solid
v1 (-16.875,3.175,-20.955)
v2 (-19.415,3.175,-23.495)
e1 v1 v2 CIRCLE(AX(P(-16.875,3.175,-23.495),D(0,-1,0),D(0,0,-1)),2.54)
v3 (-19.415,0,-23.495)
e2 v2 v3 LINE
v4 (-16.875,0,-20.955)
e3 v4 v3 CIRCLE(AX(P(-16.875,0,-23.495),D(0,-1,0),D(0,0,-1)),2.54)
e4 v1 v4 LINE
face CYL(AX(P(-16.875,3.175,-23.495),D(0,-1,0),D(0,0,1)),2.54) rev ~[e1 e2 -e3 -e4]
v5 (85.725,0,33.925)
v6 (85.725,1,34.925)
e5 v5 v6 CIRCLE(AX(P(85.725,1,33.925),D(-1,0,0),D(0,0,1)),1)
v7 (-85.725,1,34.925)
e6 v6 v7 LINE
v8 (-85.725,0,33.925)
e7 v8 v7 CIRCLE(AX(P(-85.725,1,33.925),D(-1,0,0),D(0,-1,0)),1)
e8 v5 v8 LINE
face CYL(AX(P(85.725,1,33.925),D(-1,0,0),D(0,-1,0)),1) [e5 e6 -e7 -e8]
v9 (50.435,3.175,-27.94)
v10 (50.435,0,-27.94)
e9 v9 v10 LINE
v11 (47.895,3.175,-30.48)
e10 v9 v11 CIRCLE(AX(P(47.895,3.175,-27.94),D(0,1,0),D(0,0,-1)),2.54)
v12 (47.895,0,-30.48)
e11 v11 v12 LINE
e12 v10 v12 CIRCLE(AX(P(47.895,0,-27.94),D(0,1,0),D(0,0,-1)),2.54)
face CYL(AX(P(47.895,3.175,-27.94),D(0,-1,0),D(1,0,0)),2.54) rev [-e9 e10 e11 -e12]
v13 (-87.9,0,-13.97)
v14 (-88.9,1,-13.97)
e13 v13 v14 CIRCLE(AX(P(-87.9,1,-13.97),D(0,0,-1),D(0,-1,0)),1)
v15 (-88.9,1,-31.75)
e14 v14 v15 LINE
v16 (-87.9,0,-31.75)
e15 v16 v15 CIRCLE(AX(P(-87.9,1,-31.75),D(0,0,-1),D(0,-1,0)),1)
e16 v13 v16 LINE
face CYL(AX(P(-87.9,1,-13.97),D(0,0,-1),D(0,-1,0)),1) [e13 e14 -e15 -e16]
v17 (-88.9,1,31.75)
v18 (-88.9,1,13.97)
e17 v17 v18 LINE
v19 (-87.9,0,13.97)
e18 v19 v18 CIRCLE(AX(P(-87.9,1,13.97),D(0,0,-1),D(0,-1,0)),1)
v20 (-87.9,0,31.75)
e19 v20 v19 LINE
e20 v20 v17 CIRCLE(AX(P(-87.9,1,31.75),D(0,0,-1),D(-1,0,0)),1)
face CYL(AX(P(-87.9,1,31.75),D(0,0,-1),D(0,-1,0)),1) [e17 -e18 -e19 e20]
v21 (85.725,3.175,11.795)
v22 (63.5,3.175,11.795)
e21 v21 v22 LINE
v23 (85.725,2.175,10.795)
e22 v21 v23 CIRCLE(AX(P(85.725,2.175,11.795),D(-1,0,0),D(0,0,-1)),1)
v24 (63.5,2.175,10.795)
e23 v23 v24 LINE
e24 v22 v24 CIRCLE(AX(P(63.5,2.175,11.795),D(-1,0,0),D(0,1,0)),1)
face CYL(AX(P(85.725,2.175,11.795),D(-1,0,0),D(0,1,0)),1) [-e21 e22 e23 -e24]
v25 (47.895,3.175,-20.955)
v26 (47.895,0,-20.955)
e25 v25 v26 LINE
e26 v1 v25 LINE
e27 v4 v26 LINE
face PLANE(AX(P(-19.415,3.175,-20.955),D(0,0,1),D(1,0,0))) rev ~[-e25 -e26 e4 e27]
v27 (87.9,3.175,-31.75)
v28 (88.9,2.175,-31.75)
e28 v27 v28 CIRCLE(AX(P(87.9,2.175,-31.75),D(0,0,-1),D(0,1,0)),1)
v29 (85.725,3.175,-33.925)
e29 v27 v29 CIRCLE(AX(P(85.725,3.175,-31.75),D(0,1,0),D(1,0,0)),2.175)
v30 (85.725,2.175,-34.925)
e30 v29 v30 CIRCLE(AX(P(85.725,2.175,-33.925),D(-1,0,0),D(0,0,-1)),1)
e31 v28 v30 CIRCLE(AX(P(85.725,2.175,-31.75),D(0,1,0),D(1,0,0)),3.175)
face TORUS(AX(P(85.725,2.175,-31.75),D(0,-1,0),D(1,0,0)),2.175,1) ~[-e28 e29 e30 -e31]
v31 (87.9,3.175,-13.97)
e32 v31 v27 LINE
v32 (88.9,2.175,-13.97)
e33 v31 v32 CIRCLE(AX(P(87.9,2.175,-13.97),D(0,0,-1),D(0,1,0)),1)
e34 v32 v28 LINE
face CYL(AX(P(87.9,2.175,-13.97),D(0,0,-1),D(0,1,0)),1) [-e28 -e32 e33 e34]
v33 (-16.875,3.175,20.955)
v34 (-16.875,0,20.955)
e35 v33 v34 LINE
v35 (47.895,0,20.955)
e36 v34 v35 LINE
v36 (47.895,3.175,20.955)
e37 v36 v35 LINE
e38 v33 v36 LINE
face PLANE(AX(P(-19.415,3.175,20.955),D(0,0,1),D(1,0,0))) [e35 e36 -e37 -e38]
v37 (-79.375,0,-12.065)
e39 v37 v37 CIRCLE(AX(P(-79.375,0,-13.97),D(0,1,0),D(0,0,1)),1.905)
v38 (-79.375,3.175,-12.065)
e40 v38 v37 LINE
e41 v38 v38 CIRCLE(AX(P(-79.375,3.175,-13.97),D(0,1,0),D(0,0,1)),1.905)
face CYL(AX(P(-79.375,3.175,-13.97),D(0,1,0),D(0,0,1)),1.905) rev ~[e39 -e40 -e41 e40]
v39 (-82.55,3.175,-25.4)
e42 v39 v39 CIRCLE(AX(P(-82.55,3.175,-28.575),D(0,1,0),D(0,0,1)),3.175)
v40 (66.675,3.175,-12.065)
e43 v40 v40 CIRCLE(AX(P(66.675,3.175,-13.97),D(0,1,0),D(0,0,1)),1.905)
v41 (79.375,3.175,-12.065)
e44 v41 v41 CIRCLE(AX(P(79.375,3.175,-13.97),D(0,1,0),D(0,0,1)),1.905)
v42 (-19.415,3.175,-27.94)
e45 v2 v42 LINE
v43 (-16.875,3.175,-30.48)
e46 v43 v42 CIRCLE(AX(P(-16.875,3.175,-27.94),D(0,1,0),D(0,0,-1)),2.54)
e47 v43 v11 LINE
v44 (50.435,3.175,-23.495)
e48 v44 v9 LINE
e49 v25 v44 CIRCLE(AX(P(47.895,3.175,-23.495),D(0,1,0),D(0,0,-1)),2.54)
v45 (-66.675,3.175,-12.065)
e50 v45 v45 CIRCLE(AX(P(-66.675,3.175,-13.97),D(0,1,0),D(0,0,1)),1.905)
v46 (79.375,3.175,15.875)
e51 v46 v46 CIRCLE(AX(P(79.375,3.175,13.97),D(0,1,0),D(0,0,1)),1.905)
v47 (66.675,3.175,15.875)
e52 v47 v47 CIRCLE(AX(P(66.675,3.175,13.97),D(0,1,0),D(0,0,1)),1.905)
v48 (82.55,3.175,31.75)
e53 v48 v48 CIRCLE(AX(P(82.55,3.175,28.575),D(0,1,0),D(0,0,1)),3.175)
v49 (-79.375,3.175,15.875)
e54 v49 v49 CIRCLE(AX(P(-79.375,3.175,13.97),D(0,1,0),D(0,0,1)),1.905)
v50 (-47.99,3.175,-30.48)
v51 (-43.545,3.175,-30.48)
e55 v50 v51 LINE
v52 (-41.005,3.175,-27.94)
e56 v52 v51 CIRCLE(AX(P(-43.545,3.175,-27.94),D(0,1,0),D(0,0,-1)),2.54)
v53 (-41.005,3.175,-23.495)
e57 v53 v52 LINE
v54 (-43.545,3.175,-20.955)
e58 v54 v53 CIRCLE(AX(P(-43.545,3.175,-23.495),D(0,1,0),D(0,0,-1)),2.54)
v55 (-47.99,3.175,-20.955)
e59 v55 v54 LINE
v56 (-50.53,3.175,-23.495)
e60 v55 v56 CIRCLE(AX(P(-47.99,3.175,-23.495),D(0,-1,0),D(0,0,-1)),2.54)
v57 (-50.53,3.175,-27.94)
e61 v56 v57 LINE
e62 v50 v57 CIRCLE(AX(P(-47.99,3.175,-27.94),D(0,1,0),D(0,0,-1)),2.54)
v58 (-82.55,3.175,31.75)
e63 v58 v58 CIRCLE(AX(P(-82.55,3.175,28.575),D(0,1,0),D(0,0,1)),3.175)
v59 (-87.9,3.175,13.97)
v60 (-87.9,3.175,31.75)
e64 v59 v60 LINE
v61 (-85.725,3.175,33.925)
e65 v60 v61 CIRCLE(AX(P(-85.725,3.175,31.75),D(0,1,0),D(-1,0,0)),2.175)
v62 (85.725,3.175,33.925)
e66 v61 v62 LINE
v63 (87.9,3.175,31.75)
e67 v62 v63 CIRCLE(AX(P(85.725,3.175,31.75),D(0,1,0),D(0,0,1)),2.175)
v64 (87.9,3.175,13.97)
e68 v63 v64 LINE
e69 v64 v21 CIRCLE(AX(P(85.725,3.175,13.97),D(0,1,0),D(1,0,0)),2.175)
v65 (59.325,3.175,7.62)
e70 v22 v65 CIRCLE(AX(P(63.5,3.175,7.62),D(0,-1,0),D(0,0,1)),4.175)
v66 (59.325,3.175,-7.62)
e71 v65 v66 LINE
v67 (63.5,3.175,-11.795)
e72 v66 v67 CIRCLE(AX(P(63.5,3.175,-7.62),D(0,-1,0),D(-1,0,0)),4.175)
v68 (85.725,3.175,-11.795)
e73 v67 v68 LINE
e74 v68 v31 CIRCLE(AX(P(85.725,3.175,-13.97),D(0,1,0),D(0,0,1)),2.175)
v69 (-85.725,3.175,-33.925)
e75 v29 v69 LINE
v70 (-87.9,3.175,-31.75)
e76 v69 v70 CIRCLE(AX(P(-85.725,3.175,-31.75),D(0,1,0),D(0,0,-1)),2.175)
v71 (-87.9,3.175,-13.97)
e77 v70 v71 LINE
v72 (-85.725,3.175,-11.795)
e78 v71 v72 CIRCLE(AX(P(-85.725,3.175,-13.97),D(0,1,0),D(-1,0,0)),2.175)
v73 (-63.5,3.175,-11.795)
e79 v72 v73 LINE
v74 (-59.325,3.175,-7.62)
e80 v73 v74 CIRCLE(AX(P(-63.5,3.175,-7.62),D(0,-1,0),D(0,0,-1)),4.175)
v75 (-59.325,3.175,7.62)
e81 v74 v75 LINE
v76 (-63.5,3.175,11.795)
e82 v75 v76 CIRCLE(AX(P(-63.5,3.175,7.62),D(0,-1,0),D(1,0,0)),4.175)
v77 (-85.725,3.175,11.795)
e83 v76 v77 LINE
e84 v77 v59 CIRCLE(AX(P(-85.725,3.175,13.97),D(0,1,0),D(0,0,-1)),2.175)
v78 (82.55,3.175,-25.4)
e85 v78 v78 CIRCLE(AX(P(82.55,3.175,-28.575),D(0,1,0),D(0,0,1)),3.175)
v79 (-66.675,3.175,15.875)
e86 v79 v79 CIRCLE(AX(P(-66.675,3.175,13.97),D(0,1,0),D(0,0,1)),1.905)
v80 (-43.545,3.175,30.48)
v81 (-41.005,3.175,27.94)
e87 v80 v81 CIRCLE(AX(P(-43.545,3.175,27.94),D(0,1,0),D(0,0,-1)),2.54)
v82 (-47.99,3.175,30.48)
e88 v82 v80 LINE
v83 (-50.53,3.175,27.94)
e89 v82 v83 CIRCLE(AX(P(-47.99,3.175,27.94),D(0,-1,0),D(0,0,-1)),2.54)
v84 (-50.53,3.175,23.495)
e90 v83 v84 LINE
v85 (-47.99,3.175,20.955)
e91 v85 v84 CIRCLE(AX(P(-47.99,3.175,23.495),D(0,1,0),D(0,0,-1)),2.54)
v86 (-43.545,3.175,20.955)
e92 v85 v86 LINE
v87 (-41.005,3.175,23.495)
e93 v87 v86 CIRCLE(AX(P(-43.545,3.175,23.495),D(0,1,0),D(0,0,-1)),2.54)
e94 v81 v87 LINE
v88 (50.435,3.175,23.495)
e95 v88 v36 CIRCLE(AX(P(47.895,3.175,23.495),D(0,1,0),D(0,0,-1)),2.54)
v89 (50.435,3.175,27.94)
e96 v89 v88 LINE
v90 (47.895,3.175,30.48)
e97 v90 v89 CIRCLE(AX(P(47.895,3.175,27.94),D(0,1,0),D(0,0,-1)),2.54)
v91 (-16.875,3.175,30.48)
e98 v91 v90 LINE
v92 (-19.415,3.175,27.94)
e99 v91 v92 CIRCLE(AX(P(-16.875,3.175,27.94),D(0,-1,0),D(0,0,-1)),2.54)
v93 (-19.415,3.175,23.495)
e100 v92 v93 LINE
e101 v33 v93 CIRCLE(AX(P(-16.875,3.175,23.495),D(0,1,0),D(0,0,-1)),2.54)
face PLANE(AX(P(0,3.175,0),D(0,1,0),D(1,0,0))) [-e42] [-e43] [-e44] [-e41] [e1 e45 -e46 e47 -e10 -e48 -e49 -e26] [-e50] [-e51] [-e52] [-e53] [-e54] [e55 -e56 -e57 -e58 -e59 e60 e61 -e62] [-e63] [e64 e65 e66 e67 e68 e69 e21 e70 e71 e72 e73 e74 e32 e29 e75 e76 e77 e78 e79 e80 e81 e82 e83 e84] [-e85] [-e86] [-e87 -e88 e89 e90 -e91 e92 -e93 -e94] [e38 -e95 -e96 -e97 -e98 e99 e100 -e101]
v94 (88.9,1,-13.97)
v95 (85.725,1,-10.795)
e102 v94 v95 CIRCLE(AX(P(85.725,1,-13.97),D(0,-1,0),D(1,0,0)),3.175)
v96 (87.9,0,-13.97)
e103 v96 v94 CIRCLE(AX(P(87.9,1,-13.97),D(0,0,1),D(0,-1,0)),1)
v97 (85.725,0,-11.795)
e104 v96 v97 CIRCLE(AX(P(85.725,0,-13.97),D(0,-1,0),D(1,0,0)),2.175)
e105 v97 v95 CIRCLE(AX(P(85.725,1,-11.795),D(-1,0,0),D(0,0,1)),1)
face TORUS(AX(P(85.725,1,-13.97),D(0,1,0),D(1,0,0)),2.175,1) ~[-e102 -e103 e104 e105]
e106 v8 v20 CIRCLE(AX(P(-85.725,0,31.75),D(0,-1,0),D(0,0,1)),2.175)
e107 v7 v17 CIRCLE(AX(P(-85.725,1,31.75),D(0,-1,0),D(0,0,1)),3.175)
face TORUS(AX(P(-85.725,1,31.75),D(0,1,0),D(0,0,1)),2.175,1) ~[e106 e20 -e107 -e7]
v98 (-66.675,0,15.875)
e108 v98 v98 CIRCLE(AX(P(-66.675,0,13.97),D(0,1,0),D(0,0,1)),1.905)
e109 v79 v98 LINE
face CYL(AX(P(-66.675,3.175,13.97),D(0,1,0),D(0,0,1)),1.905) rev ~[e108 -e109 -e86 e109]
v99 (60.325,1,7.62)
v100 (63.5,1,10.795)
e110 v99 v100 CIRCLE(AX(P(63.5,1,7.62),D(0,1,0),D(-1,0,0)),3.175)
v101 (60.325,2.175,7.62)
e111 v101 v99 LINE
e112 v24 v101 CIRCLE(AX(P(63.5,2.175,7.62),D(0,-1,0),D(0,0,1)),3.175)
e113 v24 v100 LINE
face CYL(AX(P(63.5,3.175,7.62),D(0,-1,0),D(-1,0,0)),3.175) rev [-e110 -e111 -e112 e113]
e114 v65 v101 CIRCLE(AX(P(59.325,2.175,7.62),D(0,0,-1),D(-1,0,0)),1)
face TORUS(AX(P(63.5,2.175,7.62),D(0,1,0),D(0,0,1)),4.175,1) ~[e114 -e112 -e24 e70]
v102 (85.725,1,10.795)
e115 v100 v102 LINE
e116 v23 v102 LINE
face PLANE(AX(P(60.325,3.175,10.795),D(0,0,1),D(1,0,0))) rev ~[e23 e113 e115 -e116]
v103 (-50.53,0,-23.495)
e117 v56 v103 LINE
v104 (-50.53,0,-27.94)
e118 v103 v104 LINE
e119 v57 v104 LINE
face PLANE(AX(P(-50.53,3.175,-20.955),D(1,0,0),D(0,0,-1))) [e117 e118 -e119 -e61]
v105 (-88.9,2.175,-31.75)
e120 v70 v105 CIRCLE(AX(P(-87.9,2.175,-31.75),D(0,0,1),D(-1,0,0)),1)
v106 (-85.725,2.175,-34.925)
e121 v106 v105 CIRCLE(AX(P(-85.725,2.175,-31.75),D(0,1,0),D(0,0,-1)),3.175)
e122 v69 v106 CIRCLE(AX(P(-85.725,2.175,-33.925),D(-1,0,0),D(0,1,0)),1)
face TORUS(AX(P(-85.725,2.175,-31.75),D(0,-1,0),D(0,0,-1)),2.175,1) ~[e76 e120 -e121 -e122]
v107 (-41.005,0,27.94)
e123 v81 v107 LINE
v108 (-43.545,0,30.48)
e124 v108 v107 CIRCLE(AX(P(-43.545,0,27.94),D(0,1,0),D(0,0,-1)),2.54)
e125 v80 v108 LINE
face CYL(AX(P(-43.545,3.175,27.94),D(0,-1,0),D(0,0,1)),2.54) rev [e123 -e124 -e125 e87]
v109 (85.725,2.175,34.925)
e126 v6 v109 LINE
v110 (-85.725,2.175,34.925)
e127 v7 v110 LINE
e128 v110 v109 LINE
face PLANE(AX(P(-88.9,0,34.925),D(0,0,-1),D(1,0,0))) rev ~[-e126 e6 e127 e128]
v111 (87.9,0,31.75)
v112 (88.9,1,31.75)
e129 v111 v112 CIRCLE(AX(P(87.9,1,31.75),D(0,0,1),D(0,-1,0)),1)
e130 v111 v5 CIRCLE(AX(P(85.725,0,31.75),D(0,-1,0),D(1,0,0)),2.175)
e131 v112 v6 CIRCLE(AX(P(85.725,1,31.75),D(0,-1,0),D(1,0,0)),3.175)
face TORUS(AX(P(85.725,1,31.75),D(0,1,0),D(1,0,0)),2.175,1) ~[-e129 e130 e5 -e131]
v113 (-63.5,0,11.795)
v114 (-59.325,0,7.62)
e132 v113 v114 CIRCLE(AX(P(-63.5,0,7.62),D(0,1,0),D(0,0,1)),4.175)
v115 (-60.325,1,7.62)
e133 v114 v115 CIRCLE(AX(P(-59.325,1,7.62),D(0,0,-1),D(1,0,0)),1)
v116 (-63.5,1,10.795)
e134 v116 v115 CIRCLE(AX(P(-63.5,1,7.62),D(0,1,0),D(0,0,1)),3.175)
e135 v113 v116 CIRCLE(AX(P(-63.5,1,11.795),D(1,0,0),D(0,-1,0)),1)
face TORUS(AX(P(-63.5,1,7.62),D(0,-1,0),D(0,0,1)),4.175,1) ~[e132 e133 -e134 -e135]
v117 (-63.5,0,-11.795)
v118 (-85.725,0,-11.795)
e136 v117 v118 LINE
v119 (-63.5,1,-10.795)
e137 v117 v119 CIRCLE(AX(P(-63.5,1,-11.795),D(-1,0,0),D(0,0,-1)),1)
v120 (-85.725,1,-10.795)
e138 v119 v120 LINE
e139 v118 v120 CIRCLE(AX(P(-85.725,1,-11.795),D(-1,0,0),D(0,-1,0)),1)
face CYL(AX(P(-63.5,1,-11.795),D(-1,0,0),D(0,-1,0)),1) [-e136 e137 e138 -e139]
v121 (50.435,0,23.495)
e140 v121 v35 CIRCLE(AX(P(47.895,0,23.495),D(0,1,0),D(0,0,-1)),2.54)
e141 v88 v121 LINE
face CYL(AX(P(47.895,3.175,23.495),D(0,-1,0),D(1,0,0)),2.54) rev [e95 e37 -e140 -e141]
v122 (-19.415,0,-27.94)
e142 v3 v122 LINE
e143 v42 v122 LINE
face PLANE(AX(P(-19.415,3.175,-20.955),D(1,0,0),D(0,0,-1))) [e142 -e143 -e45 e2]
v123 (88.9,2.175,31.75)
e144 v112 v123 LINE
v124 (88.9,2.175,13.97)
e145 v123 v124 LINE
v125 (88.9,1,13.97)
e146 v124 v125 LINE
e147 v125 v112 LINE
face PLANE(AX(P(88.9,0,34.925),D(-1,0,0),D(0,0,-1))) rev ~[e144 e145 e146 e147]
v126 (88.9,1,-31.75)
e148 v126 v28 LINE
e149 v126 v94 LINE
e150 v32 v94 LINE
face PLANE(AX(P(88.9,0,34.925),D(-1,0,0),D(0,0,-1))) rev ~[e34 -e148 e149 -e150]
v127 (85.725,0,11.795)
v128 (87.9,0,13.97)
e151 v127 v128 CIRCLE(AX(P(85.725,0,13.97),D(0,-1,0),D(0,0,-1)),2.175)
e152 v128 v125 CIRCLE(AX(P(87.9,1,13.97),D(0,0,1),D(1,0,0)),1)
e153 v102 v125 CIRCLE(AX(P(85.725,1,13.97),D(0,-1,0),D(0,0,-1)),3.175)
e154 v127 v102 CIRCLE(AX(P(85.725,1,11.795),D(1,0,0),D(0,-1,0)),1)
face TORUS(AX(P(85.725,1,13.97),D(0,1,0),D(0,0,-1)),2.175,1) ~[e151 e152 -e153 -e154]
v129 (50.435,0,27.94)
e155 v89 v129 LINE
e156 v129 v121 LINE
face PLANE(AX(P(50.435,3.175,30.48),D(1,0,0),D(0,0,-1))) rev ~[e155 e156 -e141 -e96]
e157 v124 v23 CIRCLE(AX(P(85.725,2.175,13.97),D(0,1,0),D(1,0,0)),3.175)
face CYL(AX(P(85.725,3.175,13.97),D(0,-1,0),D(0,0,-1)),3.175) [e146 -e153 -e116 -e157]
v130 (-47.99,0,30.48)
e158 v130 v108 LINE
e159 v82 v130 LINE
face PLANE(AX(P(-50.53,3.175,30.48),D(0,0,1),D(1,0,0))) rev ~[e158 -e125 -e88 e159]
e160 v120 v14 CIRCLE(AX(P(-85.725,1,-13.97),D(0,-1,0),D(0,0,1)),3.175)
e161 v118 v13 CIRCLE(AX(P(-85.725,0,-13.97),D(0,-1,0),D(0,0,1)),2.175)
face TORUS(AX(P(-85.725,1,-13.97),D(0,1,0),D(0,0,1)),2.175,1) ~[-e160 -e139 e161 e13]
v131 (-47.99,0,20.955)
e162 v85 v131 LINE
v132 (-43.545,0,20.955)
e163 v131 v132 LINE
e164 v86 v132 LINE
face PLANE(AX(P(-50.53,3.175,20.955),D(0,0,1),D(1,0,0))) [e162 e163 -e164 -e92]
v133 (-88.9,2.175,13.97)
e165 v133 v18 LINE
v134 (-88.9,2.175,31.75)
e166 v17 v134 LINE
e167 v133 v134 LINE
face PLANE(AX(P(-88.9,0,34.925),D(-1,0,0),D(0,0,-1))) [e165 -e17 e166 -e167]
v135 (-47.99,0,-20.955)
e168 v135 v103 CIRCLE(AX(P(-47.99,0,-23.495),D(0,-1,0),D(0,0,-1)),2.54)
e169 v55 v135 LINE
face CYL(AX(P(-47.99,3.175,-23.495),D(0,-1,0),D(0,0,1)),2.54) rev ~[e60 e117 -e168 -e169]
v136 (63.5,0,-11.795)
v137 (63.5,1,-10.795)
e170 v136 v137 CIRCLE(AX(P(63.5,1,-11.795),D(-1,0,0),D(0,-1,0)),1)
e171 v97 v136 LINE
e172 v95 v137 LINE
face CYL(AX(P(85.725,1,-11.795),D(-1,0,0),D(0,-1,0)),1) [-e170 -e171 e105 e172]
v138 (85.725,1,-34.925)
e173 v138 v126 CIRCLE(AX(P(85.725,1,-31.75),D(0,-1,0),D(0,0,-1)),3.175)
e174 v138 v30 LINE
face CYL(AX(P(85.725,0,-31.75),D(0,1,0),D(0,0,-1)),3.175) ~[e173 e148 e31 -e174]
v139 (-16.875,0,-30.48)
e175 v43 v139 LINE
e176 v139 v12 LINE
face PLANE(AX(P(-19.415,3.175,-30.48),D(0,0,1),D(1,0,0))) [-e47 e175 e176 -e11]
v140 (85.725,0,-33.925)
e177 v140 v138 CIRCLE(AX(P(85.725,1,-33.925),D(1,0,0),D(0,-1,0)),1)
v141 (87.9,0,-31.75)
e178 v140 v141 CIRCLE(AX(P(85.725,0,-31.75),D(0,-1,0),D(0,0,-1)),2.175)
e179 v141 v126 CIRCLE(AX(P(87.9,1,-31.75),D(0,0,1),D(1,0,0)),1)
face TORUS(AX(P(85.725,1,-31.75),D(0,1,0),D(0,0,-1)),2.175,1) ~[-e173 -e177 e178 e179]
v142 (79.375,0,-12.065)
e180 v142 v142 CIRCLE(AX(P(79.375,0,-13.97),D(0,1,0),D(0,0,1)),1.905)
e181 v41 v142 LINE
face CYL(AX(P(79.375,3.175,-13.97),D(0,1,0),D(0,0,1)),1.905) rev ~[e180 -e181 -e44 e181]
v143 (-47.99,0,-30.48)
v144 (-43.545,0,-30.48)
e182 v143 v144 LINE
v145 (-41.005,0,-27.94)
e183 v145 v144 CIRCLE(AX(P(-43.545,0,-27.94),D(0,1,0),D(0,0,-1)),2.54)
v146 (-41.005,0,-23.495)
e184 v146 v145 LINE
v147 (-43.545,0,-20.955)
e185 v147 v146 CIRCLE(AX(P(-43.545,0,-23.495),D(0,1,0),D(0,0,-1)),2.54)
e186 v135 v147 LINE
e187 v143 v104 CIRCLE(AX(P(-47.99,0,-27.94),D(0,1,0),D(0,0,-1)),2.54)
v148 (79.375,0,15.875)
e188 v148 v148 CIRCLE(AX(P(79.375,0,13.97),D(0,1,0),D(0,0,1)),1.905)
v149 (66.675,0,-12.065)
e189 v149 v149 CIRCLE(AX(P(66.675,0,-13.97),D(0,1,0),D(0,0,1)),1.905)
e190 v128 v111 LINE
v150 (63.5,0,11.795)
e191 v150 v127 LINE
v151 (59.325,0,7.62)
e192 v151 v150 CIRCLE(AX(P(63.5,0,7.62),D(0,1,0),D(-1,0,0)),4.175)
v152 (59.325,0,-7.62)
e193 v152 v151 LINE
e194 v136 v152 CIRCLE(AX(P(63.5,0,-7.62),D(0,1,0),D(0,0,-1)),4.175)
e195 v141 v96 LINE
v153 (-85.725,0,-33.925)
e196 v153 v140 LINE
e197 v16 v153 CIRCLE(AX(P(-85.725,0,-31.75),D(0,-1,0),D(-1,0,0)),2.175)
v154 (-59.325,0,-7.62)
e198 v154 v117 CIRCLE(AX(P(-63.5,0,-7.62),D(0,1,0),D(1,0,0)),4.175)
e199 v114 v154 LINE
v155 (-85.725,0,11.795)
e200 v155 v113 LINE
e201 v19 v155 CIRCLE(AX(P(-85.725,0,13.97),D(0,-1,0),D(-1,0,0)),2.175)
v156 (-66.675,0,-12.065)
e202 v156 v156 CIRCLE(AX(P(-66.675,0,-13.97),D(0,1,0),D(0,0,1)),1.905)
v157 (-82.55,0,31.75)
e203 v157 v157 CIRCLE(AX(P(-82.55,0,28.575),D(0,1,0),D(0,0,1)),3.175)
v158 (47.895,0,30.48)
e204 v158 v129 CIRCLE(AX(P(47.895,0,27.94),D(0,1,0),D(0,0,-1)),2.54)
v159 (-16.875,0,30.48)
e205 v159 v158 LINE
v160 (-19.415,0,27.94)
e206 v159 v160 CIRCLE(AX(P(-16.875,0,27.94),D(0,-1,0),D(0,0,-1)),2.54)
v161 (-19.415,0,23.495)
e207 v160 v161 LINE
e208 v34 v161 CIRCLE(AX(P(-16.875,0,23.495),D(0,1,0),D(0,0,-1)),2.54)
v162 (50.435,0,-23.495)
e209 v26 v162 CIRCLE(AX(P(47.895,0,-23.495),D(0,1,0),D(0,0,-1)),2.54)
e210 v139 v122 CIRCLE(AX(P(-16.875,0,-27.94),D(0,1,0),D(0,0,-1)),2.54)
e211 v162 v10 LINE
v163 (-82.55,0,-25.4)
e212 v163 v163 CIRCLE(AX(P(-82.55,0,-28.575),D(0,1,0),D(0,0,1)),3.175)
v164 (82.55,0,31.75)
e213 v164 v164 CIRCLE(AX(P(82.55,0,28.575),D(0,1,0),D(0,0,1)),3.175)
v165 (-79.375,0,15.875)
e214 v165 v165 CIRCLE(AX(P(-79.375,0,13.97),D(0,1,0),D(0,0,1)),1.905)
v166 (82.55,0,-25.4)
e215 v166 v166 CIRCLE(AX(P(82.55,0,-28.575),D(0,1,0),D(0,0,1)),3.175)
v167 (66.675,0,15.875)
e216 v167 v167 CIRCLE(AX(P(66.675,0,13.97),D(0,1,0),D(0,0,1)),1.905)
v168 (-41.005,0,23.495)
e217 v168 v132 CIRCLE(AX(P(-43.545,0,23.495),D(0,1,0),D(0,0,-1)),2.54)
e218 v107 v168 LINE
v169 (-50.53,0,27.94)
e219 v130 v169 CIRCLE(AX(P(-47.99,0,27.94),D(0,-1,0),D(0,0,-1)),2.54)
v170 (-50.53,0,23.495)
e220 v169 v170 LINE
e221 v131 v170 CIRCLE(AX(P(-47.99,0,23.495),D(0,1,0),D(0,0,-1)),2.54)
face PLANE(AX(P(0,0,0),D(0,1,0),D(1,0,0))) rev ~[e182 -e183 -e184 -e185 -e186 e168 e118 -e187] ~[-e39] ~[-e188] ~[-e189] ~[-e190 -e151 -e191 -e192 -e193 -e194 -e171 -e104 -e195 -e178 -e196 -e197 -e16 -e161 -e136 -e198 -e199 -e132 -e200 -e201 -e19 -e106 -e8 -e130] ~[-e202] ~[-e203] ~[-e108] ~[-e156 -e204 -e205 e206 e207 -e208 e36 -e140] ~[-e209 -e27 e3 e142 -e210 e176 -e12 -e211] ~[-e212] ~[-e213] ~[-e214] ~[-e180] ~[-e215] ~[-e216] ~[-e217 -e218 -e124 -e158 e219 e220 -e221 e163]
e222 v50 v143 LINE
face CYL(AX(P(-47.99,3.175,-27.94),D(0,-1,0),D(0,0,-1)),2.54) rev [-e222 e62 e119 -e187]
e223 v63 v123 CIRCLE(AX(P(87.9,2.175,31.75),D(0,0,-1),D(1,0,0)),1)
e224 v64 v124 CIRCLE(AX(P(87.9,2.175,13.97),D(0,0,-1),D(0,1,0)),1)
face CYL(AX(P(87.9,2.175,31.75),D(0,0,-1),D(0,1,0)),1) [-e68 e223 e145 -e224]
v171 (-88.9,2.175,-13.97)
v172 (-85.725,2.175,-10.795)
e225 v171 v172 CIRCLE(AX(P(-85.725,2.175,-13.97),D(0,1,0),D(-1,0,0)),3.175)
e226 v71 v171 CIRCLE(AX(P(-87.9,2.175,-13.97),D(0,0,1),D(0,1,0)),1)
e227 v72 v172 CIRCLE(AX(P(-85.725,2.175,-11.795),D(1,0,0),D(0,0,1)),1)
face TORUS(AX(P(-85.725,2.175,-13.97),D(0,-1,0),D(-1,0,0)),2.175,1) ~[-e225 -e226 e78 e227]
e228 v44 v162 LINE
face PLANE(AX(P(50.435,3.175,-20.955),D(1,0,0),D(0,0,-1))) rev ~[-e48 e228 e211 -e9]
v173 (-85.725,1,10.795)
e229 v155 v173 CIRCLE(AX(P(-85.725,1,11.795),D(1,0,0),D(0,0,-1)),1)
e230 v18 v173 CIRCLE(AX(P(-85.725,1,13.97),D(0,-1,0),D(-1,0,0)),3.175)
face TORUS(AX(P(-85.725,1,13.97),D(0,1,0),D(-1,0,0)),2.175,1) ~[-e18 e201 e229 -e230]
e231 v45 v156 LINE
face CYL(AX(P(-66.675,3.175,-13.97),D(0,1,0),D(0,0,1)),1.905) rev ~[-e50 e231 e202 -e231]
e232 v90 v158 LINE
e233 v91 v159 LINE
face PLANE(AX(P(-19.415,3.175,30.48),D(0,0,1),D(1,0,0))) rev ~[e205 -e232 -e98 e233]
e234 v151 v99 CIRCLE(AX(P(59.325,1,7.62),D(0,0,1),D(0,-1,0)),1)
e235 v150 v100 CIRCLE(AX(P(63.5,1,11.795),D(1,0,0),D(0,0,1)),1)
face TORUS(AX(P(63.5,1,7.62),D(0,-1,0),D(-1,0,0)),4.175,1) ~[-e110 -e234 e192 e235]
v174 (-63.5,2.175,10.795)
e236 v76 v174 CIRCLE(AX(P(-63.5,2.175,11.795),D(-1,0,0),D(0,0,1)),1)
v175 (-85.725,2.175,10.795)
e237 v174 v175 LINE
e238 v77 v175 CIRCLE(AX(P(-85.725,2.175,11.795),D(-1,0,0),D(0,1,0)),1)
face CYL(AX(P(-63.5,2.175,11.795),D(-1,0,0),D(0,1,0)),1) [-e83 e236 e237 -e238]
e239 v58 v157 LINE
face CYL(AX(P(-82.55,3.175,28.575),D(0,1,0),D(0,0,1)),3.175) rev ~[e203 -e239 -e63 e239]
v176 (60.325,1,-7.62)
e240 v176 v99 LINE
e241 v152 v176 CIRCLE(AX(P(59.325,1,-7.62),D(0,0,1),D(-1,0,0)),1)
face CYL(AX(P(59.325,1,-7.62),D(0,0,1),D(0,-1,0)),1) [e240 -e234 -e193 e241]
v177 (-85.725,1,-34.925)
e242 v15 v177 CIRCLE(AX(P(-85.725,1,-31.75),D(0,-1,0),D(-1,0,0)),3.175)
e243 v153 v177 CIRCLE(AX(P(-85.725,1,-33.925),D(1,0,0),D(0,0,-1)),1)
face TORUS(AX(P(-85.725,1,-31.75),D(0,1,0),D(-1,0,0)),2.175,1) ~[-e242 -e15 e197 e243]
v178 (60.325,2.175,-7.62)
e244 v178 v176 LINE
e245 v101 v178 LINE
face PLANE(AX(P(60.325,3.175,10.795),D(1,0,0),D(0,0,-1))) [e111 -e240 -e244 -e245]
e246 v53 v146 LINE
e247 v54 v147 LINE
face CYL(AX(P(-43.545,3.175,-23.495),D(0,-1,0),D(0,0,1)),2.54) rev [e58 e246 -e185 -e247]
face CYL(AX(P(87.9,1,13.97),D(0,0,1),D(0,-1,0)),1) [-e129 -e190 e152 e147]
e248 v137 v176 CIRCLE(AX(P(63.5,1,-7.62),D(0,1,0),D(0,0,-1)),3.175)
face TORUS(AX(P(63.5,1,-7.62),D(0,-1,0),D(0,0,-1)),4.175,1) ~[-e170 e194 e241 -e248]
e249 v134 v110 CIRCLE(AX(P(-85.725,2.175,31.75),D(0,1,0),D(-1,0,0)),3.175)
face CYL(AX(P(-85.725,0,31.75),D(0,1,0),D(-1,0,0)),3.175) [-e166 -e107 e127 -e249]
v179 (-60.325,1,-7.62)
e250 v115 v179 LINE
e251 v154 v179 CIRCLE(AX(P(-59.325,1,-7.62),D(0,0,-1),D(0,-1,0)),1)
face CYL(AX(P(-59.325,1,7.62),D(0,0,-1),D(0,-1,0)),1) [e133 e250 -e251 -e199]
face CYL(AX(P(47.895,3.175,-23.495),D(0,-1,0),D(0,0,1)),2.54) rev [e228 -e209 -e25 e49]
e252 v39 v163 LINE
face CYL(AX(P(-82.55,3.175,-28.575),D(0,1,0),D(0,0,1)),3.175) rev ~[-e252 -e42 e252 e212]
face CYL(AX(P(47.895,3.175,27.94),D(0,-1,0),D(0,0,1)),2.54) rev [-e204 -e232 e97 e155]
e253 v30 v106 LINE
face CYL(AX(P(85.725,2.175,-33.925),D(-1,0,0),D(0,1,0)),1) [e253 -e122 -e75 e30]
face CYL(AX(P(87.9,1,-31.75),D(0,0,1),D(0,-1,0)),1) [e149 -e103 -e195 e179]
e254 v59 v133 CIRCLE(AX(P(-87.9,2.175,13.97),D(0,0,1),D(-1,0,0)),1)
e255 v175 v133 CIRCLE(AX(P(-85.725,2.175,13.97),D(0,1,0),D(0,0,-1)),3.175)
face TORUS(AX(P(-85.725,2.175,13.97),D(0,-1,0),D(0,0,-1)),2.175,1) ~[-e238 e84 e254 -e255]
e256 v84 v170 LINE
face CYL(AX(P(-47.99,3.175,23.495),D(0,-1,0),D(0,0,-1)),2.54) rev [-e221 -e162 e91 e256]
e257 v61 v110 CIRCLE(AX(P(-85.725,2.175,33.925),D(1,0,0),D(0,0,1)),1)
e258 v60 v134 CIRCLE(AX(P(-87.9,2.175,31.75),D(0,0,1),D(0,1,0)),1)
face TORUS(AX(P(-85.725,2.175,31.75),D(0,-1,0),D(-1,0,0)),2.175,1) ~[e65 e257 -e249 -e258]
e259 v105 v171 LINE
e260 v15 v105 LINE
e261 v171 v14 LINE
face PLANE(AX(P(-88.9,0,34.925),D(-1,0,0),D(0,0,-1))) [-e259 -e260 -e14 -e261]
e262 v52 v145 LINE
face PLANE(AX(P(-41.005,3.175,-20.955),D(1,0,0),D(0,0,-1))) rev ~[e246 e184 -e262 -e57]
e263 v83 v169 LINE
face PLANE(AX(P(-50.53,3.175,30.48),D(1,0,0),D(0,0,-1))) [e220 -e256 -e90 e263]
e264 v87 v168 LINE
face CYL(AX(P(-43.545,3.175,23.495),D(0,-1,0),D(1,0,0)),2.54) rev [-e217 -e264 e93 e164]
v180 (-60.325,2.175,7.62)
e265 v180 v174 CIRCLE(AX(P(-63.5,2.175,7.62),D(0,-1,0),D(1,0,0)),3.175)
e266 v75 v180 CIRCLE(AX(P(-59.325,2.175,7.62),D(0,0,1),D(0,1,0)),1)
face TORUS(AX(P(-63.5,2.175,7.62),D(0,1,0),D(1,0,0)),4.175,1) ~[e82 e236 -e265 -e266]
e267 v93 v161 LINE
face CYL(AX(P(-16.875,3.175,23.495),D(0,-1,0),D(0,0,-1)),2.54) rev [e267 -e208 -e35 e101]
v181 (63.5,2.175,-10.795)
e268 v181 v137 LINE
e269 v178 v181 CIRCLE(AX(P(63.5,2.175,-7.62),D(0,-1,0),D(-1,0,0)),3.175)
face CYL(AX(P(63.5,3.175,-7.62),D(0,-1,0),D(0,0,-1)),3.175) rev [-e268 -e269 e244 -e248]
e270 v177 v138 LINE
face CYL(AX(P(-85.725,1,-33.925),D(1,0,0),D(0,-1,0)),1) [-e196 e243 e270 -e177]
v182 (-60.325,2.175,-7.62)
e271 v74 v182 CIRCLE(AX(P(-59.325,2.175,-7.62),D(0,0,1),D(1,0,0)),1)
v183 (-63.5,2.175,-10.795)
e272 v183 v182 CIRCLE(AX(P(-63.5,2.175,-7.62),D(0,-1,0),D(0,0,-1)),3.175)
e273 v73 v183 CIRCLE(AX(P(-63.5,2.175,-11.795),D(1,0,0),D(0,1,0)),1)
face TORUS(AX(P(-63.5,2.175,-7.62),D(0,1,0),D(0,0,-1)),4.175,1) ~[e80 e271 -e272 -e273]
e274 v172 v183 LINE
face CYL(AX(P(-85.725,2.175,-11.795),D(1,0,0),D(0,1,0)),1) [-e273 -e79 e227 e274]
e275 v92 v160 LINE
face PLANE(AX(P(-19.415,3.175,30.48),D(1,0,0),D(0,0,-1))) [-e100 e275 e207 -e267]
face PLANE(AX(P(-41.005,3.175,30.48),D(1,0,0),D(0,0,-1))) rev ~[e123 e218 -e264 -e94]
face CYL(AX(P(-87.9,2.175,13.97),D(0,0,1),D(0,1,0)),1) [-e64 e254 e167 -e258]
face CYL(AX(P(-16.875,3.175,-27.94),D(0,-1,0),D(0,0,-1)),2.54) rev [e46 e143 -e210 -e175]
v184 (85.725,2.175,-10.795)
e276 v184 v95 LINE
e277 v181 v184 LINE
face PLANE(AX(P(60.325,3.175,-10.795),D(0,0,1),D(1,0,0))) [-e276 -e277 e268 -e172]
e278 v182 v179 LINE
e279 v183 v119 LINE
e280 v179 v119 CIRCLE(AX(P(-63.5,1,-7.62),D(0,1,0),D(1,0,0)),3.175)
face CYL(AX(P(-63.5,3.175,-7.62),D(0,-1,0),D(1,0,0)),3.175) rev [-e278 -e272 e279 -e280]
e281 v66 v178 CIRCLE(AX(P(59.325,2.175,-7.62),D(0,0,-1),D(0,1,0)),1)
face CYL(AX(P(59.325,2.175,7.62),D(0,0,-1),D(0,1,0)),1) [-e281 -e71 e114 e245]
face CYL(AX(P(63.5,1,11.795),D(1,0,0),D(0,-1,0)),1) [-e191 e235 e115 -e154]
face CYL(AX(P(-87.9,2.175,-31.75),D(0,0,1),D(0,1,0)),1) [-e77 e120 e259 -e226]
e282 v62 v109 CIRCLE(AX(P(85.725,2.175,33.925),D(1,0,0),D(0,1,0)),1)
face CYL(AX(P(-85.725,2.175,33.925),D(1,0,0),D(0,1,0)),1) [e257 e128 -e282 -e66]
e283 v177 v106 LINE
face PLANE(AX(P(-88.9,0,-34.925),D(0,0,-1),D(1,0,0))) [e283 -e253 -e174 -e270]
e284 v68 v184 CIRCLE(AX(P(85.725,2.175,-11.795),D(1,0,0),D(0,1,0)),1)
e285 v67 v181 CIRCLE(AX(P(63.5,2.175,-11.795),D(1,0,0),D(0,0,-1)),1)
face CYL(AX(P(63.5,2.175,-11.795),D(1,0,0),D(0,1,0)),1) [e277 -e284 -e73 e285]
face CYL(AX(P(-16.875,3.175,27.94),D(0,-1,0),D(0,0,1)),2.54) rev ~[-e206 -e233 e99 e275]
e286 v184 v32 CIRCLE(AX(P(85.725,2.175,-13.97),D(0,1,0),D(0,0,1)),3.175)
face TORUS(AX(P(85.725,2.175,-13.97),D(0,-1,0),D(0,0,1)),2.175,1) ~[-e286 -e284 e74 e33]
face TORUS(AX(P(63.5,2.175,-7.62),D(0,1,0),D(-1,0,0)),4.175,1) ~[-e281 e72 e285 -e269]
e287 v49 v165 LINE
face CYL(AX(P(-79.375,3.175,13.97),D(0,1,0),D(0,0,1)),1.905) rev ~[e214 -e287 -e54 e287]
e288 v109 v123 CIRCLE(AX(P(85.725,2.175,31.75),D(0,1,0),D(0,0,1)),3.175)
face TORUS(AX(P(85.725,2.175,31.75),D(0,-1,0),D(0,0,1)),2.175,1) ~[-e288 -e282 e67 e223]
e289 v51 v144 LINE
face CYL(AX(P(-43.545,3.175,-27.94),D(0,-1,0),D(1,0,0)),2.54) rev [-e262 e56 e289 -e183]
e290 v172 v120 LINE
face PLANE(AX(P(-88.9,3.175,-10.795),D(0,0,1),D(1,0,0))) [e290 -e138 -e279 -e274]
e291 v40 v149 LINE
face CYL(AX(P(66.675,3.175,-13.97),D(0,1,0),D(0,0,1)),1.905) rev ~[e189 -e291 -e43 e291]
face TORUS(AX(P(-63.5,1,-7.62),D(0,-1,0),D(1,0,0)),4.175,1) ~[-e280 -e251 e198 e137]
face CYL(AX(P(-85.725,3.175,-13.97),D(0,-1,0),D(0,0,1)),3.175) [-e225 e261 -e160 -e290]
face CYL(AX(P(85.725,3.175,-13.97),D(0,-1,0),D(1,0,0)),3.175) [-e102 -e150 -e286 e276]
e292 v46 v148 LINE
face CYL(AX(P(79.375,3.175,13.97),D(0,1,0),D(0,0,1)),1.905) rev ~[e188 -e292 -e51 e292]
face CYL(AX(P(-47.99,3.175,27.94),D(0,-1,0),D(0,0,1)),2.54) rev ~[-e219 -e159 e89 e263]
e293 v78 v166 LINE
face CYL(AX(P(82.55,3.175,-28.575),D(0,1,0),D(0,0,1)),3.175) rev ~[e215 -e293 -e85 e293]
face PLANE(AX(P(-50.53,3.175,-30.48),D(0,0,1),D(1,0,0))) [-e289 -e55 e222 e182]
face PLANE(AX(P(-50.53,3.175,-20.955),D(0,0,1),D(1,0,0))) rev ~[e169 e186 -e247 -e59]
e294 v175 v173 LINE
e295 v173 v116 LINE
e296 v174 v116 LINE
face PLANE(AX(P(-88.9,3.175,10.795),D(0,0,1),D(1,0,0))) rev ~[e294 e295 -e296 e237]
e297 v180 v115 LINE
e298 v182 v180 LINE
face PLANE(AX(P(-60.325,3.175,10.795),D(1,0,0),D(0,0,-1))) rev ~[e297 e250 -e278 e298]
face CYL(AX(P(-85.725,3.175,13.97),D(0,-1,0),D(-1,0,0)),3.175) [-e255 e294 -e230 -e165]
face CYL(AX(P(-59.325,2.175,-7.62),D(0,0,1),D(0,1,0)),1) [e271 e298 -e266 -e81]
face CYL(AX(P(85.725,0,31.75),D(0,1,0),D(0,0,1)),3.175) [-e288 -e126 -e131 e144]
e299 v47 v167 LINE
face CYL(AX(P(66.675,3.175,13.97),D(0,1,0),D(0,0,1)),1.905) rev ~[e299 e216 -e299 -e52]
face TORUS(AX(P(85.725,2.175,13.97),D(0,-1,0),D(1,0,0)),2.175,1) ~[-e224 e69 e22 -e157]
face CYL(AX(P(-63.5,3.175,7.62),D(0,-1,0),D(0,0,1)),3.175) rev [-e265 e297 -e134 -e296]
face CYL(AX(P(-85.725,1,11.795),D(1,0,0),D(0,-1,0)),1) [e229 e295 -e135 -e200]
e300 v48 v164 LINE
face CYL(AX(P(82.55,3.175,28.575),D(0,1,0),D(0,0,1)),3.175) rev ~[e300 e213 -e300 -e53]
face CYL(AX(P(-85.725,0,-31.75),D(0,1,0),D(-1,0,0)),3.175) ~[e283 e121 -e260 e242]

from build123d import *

# Parameters (mm, degrees)
SKETCH1_W           = 177.8
SKETCH1_H           = 69.85
BOSS_EXTRUDE1_DEPTH = 3.175
SKETCH2_R           = 3.175
SKETCH2_R_2         = 1.905
SKETCH2_W           = 28.575
SKETCH2_H           = 21.59
CUT_EXTRUDE1_DEPTH  = 96.56697259
FILLET1_R           = 3.175
FILLET2_R           = 1.000000032
SKETCH3_W           = 69.85
SKETCH3_H           = 9.525
SKETCH3_W_2         = 9.525
CUT_EXTRUDE2_DEPTH  = 96.56697259
FILLET3_R           = 2.54


with BuildPart() as part:
    # Sketch1 → Boss-Extrude1 (new body)
    with BuildSketch(Plane(origin=(0, 0, 0), x_dir=(1, 0, 0), z_dir=(0, 1, 0))):
        Rectangle(SKETCH1_W, SKETCH1_H)
    extrude(amount=BOSS_EXTRUDE1_DEPTH)

    # Sketch2 → Cut-Extrude1 (cut, through all)
    with BuildSketch(Plane(origin=(0, 3.175, 0), x_dir=(1, 0, 0), z_dir=(0, 1, 0))):
        with Locations(Location((-82.55, 28.575, 0), (0, 0, 270))):
            Circle(SKETCH2_R)
        with Locations(Location((-82.55, -28.575, 0), (0, 0, 270))):
            Circle(SKETCH2_R)
        with Locations(Location((82.55, 28.575, 0), (0, 0, 270))):
            Circle(SKETCH2_R)
        with Locations(Location((82.55, -28.575, 0), (0, 0, 270))):
            Circle(SKETCH2_R)
        with Locations(Location((-66.675, 13.97, 0), (0, 0, 270))):
            Circle(SKETCH2_R_2)
        with Locations(Location((-79.375, 13.97, 0), (0, 0, 270))):
            Circle(SKETCH2_R_2)
        with Locations(Location((-66.675, -13.97, 0), (0, 0, 270))):
            Circle(SKETCH2_R_2)
        with Locations(Location((-79.375, -13.97, 0), (0, 0, 270))):
            Circle(SKETCH2_R_2)
        with Locations(Location((66.675, 13.97, 0), (0, 0, 270))):
            Circle(SKETCH2_R_2)
        with Locations(Location((79.375, 13.97, 0), (0, 0, 270))):
            Circle(SKETCH2_R_2)
        with Locations(Location((66.675, -13.97, 0), (0, 0, 270))):
            Circle(SKETCH2_R_2)
        with Locations(Location((79.375, -13.97, 0), (0, 0, 270))):
            Circle(SKETCH2_R_2)
        with Locations((-74.6125, 0)):
            Rectangle(SKETCH2_W, SKETCH2_H)
        with Locations((74.6125, 0)):
            Rectangle(SKETCH2_W, SKETCH2_H)
    extrude(amount=-CUT_EXTRUDE1_DEPTH, mode=Mode.SUBTRACT)

    # Fillet1
    fillet1_edges = [part.edges().sort_by_distance(p)[0] for p in [
        (-88.9, 1.5875, 10.795),
        (-88.9, 1.5875, -10.795),
        (-60.325, 1.5875, -10.795),
        (-60.325, 1.5875, 10.795),
        (88.9, 1.5875, -10.795),
        (88.9, 1.5875, 10.795),
        (60.325, 1.5875, 10.795),
        (60.325, 1.5875, -10.795),
        (88.9, 1.5875, 34.925),
        (-88.9, 1.5875, 34.925),
        (-88.9, 1.5875, -34.925),
        (88.9, 1.5875, -34.925),
    ]]
    fillet(fillet1_edges, radius=FILLET1_R)

    # Fillet2
    fillet2_edges = [part.edges().sort_by_distance(p)[0] for p in [
        (-88.9, 0, -22.86),
        (88.9, 0, -22.86),
        (74.6125, 0, -10.795),
        (60.325, 0, 0),
        (-87.97006403, 0, -11.72493597),
        (-87.97006403, 0, 11.72493597),
        (87.97006403, 0, -11.72493597),
        (87.97006403, 0, 11.72493597),
        (-87.97006403, 0, 33.99506403),
        (-87.97006403, 0, -33.99506403),
        (87.97006403, 0, 33.99506403),
        (87.97006403, 0, -33.99506403),
        (88.9, 3.175, -22.86),
        (88.9, 3.175, 22.86),
        (74.6125, 3.175, 10.795),
        (60.325, 3.175, 0),
        (74.6125, 3.175, -10.795),
        (-88.9, 3.175, -22.86),
        (-74.6125, 3.175, -10.795),
        (-60.325, 3.175, 0),
        (-74.6125, 3.175, 10.795),
        (-88.9, 3.175, 22.86),
        (0, 3.175, 34.925),
        (-87.97006403, 3.175, -11.72493597),
        (-87.97006403, 3.175, 11.72493597),
        (87.97006403, 3.175, -11.72493597),
        (87.97006403, 3.175, 11.72493597),
        (-87.97006403, 3.175, 33.99506403),
        (-87.97006403, 3.175, -33.99506403),
        (87.97006403, 3.175, 33.99506403),
        (87.97006403, 3.175, -33.99506403),
        (61.25493597, 3.175, 9.86506403),
        (61.25493597, 0, 9.86506403),
        (61.25493597, 3.175, -9.86506403),
        (61.25493597, 0, -9.86506403),
        (-61.25493597, 3.175, 9.86506403),
        (-61.25493597, 0, 9.86506403),
        (-61.25493597, 3.175, -9.86506403),
        (-61.25493597, 0, -9.86506403),
        (0, 0, -34.925),
        (0, 3.175, -34.925),
        (74.6125, 0, 10.795),
        (88.9, 0, 22.86),
        (0, 0, 34.925),
        (-88.9, 0, 22.86),
        (-74.6125, 0, 10.795),
        (-60.325, 0, 0),
        (-74.6125, 0, -10.795),
    ]]
    fillet(fillet2_edges, radius=FILLET2_R)

    # Sketch3 → Cut-Extrude2 (cut, through all)
    with BuildSketch(Plane(origin=(0, 3.175, 0), x_dir=(1, 0, 0), z_dir=(0, 1, 0))):
        with Locations((15.509999968, 25.7175)):
            Rectangle(SKETCH3_W, SKETCH3_H)
        with Locations((15.509999968, -25.7175)):
            Rectangle(SKETCH3_W, SKETCH3_H)
        with Locations((-45.767500032, 25.7175)):
            Rectangle(SKETCH3_W_2, SKETCH3_H)
        with Locations((-45.767500032, -25.7175)):
            Rectangle(SKETCH3_W_2, SKETCH3_H)
    extrude(amount=-CUT_EXTRUDE2_DEPTH, mode=Mode.SUBTRACT)

    # Fillet3
    fillet3_edges = [part.edges().sort_by_distance(p)[0] for p in [
        (-19.415000032, 1.5875, -20.955),
        (-19.415000032, 1.5875, -30.48),
        (50.434999968, 1.5875, -30.48),
        (50.434999968, 1.5875, -20.955),
        (50.434999968, 1.5875, 20.955),
        (50.434999968, 1.5875, 30.48),
        (-19.415000032, 1.5875, 30.48),
        (-19.415000032, 1.5875, 20.955),
        (-50.530000032, 1.5875, -20.955),
        (-50.530000032, 1.5875, -30.48),
        (-41.005000032, 1.5875, -30.48),
        (-41.005000032, 1.5875, -20.955),
        (-50.530000032, 1.5875, 30.48),
        (-50.530000032, 1.5875, 20.955),
        (-41.005000032, 1.5875, 20.955),
        (-41.005000032, 1.5875, 30.48),
    ]]
    fillet(fillet3_edges, radius=FILLET3_R)


solid = part.part
